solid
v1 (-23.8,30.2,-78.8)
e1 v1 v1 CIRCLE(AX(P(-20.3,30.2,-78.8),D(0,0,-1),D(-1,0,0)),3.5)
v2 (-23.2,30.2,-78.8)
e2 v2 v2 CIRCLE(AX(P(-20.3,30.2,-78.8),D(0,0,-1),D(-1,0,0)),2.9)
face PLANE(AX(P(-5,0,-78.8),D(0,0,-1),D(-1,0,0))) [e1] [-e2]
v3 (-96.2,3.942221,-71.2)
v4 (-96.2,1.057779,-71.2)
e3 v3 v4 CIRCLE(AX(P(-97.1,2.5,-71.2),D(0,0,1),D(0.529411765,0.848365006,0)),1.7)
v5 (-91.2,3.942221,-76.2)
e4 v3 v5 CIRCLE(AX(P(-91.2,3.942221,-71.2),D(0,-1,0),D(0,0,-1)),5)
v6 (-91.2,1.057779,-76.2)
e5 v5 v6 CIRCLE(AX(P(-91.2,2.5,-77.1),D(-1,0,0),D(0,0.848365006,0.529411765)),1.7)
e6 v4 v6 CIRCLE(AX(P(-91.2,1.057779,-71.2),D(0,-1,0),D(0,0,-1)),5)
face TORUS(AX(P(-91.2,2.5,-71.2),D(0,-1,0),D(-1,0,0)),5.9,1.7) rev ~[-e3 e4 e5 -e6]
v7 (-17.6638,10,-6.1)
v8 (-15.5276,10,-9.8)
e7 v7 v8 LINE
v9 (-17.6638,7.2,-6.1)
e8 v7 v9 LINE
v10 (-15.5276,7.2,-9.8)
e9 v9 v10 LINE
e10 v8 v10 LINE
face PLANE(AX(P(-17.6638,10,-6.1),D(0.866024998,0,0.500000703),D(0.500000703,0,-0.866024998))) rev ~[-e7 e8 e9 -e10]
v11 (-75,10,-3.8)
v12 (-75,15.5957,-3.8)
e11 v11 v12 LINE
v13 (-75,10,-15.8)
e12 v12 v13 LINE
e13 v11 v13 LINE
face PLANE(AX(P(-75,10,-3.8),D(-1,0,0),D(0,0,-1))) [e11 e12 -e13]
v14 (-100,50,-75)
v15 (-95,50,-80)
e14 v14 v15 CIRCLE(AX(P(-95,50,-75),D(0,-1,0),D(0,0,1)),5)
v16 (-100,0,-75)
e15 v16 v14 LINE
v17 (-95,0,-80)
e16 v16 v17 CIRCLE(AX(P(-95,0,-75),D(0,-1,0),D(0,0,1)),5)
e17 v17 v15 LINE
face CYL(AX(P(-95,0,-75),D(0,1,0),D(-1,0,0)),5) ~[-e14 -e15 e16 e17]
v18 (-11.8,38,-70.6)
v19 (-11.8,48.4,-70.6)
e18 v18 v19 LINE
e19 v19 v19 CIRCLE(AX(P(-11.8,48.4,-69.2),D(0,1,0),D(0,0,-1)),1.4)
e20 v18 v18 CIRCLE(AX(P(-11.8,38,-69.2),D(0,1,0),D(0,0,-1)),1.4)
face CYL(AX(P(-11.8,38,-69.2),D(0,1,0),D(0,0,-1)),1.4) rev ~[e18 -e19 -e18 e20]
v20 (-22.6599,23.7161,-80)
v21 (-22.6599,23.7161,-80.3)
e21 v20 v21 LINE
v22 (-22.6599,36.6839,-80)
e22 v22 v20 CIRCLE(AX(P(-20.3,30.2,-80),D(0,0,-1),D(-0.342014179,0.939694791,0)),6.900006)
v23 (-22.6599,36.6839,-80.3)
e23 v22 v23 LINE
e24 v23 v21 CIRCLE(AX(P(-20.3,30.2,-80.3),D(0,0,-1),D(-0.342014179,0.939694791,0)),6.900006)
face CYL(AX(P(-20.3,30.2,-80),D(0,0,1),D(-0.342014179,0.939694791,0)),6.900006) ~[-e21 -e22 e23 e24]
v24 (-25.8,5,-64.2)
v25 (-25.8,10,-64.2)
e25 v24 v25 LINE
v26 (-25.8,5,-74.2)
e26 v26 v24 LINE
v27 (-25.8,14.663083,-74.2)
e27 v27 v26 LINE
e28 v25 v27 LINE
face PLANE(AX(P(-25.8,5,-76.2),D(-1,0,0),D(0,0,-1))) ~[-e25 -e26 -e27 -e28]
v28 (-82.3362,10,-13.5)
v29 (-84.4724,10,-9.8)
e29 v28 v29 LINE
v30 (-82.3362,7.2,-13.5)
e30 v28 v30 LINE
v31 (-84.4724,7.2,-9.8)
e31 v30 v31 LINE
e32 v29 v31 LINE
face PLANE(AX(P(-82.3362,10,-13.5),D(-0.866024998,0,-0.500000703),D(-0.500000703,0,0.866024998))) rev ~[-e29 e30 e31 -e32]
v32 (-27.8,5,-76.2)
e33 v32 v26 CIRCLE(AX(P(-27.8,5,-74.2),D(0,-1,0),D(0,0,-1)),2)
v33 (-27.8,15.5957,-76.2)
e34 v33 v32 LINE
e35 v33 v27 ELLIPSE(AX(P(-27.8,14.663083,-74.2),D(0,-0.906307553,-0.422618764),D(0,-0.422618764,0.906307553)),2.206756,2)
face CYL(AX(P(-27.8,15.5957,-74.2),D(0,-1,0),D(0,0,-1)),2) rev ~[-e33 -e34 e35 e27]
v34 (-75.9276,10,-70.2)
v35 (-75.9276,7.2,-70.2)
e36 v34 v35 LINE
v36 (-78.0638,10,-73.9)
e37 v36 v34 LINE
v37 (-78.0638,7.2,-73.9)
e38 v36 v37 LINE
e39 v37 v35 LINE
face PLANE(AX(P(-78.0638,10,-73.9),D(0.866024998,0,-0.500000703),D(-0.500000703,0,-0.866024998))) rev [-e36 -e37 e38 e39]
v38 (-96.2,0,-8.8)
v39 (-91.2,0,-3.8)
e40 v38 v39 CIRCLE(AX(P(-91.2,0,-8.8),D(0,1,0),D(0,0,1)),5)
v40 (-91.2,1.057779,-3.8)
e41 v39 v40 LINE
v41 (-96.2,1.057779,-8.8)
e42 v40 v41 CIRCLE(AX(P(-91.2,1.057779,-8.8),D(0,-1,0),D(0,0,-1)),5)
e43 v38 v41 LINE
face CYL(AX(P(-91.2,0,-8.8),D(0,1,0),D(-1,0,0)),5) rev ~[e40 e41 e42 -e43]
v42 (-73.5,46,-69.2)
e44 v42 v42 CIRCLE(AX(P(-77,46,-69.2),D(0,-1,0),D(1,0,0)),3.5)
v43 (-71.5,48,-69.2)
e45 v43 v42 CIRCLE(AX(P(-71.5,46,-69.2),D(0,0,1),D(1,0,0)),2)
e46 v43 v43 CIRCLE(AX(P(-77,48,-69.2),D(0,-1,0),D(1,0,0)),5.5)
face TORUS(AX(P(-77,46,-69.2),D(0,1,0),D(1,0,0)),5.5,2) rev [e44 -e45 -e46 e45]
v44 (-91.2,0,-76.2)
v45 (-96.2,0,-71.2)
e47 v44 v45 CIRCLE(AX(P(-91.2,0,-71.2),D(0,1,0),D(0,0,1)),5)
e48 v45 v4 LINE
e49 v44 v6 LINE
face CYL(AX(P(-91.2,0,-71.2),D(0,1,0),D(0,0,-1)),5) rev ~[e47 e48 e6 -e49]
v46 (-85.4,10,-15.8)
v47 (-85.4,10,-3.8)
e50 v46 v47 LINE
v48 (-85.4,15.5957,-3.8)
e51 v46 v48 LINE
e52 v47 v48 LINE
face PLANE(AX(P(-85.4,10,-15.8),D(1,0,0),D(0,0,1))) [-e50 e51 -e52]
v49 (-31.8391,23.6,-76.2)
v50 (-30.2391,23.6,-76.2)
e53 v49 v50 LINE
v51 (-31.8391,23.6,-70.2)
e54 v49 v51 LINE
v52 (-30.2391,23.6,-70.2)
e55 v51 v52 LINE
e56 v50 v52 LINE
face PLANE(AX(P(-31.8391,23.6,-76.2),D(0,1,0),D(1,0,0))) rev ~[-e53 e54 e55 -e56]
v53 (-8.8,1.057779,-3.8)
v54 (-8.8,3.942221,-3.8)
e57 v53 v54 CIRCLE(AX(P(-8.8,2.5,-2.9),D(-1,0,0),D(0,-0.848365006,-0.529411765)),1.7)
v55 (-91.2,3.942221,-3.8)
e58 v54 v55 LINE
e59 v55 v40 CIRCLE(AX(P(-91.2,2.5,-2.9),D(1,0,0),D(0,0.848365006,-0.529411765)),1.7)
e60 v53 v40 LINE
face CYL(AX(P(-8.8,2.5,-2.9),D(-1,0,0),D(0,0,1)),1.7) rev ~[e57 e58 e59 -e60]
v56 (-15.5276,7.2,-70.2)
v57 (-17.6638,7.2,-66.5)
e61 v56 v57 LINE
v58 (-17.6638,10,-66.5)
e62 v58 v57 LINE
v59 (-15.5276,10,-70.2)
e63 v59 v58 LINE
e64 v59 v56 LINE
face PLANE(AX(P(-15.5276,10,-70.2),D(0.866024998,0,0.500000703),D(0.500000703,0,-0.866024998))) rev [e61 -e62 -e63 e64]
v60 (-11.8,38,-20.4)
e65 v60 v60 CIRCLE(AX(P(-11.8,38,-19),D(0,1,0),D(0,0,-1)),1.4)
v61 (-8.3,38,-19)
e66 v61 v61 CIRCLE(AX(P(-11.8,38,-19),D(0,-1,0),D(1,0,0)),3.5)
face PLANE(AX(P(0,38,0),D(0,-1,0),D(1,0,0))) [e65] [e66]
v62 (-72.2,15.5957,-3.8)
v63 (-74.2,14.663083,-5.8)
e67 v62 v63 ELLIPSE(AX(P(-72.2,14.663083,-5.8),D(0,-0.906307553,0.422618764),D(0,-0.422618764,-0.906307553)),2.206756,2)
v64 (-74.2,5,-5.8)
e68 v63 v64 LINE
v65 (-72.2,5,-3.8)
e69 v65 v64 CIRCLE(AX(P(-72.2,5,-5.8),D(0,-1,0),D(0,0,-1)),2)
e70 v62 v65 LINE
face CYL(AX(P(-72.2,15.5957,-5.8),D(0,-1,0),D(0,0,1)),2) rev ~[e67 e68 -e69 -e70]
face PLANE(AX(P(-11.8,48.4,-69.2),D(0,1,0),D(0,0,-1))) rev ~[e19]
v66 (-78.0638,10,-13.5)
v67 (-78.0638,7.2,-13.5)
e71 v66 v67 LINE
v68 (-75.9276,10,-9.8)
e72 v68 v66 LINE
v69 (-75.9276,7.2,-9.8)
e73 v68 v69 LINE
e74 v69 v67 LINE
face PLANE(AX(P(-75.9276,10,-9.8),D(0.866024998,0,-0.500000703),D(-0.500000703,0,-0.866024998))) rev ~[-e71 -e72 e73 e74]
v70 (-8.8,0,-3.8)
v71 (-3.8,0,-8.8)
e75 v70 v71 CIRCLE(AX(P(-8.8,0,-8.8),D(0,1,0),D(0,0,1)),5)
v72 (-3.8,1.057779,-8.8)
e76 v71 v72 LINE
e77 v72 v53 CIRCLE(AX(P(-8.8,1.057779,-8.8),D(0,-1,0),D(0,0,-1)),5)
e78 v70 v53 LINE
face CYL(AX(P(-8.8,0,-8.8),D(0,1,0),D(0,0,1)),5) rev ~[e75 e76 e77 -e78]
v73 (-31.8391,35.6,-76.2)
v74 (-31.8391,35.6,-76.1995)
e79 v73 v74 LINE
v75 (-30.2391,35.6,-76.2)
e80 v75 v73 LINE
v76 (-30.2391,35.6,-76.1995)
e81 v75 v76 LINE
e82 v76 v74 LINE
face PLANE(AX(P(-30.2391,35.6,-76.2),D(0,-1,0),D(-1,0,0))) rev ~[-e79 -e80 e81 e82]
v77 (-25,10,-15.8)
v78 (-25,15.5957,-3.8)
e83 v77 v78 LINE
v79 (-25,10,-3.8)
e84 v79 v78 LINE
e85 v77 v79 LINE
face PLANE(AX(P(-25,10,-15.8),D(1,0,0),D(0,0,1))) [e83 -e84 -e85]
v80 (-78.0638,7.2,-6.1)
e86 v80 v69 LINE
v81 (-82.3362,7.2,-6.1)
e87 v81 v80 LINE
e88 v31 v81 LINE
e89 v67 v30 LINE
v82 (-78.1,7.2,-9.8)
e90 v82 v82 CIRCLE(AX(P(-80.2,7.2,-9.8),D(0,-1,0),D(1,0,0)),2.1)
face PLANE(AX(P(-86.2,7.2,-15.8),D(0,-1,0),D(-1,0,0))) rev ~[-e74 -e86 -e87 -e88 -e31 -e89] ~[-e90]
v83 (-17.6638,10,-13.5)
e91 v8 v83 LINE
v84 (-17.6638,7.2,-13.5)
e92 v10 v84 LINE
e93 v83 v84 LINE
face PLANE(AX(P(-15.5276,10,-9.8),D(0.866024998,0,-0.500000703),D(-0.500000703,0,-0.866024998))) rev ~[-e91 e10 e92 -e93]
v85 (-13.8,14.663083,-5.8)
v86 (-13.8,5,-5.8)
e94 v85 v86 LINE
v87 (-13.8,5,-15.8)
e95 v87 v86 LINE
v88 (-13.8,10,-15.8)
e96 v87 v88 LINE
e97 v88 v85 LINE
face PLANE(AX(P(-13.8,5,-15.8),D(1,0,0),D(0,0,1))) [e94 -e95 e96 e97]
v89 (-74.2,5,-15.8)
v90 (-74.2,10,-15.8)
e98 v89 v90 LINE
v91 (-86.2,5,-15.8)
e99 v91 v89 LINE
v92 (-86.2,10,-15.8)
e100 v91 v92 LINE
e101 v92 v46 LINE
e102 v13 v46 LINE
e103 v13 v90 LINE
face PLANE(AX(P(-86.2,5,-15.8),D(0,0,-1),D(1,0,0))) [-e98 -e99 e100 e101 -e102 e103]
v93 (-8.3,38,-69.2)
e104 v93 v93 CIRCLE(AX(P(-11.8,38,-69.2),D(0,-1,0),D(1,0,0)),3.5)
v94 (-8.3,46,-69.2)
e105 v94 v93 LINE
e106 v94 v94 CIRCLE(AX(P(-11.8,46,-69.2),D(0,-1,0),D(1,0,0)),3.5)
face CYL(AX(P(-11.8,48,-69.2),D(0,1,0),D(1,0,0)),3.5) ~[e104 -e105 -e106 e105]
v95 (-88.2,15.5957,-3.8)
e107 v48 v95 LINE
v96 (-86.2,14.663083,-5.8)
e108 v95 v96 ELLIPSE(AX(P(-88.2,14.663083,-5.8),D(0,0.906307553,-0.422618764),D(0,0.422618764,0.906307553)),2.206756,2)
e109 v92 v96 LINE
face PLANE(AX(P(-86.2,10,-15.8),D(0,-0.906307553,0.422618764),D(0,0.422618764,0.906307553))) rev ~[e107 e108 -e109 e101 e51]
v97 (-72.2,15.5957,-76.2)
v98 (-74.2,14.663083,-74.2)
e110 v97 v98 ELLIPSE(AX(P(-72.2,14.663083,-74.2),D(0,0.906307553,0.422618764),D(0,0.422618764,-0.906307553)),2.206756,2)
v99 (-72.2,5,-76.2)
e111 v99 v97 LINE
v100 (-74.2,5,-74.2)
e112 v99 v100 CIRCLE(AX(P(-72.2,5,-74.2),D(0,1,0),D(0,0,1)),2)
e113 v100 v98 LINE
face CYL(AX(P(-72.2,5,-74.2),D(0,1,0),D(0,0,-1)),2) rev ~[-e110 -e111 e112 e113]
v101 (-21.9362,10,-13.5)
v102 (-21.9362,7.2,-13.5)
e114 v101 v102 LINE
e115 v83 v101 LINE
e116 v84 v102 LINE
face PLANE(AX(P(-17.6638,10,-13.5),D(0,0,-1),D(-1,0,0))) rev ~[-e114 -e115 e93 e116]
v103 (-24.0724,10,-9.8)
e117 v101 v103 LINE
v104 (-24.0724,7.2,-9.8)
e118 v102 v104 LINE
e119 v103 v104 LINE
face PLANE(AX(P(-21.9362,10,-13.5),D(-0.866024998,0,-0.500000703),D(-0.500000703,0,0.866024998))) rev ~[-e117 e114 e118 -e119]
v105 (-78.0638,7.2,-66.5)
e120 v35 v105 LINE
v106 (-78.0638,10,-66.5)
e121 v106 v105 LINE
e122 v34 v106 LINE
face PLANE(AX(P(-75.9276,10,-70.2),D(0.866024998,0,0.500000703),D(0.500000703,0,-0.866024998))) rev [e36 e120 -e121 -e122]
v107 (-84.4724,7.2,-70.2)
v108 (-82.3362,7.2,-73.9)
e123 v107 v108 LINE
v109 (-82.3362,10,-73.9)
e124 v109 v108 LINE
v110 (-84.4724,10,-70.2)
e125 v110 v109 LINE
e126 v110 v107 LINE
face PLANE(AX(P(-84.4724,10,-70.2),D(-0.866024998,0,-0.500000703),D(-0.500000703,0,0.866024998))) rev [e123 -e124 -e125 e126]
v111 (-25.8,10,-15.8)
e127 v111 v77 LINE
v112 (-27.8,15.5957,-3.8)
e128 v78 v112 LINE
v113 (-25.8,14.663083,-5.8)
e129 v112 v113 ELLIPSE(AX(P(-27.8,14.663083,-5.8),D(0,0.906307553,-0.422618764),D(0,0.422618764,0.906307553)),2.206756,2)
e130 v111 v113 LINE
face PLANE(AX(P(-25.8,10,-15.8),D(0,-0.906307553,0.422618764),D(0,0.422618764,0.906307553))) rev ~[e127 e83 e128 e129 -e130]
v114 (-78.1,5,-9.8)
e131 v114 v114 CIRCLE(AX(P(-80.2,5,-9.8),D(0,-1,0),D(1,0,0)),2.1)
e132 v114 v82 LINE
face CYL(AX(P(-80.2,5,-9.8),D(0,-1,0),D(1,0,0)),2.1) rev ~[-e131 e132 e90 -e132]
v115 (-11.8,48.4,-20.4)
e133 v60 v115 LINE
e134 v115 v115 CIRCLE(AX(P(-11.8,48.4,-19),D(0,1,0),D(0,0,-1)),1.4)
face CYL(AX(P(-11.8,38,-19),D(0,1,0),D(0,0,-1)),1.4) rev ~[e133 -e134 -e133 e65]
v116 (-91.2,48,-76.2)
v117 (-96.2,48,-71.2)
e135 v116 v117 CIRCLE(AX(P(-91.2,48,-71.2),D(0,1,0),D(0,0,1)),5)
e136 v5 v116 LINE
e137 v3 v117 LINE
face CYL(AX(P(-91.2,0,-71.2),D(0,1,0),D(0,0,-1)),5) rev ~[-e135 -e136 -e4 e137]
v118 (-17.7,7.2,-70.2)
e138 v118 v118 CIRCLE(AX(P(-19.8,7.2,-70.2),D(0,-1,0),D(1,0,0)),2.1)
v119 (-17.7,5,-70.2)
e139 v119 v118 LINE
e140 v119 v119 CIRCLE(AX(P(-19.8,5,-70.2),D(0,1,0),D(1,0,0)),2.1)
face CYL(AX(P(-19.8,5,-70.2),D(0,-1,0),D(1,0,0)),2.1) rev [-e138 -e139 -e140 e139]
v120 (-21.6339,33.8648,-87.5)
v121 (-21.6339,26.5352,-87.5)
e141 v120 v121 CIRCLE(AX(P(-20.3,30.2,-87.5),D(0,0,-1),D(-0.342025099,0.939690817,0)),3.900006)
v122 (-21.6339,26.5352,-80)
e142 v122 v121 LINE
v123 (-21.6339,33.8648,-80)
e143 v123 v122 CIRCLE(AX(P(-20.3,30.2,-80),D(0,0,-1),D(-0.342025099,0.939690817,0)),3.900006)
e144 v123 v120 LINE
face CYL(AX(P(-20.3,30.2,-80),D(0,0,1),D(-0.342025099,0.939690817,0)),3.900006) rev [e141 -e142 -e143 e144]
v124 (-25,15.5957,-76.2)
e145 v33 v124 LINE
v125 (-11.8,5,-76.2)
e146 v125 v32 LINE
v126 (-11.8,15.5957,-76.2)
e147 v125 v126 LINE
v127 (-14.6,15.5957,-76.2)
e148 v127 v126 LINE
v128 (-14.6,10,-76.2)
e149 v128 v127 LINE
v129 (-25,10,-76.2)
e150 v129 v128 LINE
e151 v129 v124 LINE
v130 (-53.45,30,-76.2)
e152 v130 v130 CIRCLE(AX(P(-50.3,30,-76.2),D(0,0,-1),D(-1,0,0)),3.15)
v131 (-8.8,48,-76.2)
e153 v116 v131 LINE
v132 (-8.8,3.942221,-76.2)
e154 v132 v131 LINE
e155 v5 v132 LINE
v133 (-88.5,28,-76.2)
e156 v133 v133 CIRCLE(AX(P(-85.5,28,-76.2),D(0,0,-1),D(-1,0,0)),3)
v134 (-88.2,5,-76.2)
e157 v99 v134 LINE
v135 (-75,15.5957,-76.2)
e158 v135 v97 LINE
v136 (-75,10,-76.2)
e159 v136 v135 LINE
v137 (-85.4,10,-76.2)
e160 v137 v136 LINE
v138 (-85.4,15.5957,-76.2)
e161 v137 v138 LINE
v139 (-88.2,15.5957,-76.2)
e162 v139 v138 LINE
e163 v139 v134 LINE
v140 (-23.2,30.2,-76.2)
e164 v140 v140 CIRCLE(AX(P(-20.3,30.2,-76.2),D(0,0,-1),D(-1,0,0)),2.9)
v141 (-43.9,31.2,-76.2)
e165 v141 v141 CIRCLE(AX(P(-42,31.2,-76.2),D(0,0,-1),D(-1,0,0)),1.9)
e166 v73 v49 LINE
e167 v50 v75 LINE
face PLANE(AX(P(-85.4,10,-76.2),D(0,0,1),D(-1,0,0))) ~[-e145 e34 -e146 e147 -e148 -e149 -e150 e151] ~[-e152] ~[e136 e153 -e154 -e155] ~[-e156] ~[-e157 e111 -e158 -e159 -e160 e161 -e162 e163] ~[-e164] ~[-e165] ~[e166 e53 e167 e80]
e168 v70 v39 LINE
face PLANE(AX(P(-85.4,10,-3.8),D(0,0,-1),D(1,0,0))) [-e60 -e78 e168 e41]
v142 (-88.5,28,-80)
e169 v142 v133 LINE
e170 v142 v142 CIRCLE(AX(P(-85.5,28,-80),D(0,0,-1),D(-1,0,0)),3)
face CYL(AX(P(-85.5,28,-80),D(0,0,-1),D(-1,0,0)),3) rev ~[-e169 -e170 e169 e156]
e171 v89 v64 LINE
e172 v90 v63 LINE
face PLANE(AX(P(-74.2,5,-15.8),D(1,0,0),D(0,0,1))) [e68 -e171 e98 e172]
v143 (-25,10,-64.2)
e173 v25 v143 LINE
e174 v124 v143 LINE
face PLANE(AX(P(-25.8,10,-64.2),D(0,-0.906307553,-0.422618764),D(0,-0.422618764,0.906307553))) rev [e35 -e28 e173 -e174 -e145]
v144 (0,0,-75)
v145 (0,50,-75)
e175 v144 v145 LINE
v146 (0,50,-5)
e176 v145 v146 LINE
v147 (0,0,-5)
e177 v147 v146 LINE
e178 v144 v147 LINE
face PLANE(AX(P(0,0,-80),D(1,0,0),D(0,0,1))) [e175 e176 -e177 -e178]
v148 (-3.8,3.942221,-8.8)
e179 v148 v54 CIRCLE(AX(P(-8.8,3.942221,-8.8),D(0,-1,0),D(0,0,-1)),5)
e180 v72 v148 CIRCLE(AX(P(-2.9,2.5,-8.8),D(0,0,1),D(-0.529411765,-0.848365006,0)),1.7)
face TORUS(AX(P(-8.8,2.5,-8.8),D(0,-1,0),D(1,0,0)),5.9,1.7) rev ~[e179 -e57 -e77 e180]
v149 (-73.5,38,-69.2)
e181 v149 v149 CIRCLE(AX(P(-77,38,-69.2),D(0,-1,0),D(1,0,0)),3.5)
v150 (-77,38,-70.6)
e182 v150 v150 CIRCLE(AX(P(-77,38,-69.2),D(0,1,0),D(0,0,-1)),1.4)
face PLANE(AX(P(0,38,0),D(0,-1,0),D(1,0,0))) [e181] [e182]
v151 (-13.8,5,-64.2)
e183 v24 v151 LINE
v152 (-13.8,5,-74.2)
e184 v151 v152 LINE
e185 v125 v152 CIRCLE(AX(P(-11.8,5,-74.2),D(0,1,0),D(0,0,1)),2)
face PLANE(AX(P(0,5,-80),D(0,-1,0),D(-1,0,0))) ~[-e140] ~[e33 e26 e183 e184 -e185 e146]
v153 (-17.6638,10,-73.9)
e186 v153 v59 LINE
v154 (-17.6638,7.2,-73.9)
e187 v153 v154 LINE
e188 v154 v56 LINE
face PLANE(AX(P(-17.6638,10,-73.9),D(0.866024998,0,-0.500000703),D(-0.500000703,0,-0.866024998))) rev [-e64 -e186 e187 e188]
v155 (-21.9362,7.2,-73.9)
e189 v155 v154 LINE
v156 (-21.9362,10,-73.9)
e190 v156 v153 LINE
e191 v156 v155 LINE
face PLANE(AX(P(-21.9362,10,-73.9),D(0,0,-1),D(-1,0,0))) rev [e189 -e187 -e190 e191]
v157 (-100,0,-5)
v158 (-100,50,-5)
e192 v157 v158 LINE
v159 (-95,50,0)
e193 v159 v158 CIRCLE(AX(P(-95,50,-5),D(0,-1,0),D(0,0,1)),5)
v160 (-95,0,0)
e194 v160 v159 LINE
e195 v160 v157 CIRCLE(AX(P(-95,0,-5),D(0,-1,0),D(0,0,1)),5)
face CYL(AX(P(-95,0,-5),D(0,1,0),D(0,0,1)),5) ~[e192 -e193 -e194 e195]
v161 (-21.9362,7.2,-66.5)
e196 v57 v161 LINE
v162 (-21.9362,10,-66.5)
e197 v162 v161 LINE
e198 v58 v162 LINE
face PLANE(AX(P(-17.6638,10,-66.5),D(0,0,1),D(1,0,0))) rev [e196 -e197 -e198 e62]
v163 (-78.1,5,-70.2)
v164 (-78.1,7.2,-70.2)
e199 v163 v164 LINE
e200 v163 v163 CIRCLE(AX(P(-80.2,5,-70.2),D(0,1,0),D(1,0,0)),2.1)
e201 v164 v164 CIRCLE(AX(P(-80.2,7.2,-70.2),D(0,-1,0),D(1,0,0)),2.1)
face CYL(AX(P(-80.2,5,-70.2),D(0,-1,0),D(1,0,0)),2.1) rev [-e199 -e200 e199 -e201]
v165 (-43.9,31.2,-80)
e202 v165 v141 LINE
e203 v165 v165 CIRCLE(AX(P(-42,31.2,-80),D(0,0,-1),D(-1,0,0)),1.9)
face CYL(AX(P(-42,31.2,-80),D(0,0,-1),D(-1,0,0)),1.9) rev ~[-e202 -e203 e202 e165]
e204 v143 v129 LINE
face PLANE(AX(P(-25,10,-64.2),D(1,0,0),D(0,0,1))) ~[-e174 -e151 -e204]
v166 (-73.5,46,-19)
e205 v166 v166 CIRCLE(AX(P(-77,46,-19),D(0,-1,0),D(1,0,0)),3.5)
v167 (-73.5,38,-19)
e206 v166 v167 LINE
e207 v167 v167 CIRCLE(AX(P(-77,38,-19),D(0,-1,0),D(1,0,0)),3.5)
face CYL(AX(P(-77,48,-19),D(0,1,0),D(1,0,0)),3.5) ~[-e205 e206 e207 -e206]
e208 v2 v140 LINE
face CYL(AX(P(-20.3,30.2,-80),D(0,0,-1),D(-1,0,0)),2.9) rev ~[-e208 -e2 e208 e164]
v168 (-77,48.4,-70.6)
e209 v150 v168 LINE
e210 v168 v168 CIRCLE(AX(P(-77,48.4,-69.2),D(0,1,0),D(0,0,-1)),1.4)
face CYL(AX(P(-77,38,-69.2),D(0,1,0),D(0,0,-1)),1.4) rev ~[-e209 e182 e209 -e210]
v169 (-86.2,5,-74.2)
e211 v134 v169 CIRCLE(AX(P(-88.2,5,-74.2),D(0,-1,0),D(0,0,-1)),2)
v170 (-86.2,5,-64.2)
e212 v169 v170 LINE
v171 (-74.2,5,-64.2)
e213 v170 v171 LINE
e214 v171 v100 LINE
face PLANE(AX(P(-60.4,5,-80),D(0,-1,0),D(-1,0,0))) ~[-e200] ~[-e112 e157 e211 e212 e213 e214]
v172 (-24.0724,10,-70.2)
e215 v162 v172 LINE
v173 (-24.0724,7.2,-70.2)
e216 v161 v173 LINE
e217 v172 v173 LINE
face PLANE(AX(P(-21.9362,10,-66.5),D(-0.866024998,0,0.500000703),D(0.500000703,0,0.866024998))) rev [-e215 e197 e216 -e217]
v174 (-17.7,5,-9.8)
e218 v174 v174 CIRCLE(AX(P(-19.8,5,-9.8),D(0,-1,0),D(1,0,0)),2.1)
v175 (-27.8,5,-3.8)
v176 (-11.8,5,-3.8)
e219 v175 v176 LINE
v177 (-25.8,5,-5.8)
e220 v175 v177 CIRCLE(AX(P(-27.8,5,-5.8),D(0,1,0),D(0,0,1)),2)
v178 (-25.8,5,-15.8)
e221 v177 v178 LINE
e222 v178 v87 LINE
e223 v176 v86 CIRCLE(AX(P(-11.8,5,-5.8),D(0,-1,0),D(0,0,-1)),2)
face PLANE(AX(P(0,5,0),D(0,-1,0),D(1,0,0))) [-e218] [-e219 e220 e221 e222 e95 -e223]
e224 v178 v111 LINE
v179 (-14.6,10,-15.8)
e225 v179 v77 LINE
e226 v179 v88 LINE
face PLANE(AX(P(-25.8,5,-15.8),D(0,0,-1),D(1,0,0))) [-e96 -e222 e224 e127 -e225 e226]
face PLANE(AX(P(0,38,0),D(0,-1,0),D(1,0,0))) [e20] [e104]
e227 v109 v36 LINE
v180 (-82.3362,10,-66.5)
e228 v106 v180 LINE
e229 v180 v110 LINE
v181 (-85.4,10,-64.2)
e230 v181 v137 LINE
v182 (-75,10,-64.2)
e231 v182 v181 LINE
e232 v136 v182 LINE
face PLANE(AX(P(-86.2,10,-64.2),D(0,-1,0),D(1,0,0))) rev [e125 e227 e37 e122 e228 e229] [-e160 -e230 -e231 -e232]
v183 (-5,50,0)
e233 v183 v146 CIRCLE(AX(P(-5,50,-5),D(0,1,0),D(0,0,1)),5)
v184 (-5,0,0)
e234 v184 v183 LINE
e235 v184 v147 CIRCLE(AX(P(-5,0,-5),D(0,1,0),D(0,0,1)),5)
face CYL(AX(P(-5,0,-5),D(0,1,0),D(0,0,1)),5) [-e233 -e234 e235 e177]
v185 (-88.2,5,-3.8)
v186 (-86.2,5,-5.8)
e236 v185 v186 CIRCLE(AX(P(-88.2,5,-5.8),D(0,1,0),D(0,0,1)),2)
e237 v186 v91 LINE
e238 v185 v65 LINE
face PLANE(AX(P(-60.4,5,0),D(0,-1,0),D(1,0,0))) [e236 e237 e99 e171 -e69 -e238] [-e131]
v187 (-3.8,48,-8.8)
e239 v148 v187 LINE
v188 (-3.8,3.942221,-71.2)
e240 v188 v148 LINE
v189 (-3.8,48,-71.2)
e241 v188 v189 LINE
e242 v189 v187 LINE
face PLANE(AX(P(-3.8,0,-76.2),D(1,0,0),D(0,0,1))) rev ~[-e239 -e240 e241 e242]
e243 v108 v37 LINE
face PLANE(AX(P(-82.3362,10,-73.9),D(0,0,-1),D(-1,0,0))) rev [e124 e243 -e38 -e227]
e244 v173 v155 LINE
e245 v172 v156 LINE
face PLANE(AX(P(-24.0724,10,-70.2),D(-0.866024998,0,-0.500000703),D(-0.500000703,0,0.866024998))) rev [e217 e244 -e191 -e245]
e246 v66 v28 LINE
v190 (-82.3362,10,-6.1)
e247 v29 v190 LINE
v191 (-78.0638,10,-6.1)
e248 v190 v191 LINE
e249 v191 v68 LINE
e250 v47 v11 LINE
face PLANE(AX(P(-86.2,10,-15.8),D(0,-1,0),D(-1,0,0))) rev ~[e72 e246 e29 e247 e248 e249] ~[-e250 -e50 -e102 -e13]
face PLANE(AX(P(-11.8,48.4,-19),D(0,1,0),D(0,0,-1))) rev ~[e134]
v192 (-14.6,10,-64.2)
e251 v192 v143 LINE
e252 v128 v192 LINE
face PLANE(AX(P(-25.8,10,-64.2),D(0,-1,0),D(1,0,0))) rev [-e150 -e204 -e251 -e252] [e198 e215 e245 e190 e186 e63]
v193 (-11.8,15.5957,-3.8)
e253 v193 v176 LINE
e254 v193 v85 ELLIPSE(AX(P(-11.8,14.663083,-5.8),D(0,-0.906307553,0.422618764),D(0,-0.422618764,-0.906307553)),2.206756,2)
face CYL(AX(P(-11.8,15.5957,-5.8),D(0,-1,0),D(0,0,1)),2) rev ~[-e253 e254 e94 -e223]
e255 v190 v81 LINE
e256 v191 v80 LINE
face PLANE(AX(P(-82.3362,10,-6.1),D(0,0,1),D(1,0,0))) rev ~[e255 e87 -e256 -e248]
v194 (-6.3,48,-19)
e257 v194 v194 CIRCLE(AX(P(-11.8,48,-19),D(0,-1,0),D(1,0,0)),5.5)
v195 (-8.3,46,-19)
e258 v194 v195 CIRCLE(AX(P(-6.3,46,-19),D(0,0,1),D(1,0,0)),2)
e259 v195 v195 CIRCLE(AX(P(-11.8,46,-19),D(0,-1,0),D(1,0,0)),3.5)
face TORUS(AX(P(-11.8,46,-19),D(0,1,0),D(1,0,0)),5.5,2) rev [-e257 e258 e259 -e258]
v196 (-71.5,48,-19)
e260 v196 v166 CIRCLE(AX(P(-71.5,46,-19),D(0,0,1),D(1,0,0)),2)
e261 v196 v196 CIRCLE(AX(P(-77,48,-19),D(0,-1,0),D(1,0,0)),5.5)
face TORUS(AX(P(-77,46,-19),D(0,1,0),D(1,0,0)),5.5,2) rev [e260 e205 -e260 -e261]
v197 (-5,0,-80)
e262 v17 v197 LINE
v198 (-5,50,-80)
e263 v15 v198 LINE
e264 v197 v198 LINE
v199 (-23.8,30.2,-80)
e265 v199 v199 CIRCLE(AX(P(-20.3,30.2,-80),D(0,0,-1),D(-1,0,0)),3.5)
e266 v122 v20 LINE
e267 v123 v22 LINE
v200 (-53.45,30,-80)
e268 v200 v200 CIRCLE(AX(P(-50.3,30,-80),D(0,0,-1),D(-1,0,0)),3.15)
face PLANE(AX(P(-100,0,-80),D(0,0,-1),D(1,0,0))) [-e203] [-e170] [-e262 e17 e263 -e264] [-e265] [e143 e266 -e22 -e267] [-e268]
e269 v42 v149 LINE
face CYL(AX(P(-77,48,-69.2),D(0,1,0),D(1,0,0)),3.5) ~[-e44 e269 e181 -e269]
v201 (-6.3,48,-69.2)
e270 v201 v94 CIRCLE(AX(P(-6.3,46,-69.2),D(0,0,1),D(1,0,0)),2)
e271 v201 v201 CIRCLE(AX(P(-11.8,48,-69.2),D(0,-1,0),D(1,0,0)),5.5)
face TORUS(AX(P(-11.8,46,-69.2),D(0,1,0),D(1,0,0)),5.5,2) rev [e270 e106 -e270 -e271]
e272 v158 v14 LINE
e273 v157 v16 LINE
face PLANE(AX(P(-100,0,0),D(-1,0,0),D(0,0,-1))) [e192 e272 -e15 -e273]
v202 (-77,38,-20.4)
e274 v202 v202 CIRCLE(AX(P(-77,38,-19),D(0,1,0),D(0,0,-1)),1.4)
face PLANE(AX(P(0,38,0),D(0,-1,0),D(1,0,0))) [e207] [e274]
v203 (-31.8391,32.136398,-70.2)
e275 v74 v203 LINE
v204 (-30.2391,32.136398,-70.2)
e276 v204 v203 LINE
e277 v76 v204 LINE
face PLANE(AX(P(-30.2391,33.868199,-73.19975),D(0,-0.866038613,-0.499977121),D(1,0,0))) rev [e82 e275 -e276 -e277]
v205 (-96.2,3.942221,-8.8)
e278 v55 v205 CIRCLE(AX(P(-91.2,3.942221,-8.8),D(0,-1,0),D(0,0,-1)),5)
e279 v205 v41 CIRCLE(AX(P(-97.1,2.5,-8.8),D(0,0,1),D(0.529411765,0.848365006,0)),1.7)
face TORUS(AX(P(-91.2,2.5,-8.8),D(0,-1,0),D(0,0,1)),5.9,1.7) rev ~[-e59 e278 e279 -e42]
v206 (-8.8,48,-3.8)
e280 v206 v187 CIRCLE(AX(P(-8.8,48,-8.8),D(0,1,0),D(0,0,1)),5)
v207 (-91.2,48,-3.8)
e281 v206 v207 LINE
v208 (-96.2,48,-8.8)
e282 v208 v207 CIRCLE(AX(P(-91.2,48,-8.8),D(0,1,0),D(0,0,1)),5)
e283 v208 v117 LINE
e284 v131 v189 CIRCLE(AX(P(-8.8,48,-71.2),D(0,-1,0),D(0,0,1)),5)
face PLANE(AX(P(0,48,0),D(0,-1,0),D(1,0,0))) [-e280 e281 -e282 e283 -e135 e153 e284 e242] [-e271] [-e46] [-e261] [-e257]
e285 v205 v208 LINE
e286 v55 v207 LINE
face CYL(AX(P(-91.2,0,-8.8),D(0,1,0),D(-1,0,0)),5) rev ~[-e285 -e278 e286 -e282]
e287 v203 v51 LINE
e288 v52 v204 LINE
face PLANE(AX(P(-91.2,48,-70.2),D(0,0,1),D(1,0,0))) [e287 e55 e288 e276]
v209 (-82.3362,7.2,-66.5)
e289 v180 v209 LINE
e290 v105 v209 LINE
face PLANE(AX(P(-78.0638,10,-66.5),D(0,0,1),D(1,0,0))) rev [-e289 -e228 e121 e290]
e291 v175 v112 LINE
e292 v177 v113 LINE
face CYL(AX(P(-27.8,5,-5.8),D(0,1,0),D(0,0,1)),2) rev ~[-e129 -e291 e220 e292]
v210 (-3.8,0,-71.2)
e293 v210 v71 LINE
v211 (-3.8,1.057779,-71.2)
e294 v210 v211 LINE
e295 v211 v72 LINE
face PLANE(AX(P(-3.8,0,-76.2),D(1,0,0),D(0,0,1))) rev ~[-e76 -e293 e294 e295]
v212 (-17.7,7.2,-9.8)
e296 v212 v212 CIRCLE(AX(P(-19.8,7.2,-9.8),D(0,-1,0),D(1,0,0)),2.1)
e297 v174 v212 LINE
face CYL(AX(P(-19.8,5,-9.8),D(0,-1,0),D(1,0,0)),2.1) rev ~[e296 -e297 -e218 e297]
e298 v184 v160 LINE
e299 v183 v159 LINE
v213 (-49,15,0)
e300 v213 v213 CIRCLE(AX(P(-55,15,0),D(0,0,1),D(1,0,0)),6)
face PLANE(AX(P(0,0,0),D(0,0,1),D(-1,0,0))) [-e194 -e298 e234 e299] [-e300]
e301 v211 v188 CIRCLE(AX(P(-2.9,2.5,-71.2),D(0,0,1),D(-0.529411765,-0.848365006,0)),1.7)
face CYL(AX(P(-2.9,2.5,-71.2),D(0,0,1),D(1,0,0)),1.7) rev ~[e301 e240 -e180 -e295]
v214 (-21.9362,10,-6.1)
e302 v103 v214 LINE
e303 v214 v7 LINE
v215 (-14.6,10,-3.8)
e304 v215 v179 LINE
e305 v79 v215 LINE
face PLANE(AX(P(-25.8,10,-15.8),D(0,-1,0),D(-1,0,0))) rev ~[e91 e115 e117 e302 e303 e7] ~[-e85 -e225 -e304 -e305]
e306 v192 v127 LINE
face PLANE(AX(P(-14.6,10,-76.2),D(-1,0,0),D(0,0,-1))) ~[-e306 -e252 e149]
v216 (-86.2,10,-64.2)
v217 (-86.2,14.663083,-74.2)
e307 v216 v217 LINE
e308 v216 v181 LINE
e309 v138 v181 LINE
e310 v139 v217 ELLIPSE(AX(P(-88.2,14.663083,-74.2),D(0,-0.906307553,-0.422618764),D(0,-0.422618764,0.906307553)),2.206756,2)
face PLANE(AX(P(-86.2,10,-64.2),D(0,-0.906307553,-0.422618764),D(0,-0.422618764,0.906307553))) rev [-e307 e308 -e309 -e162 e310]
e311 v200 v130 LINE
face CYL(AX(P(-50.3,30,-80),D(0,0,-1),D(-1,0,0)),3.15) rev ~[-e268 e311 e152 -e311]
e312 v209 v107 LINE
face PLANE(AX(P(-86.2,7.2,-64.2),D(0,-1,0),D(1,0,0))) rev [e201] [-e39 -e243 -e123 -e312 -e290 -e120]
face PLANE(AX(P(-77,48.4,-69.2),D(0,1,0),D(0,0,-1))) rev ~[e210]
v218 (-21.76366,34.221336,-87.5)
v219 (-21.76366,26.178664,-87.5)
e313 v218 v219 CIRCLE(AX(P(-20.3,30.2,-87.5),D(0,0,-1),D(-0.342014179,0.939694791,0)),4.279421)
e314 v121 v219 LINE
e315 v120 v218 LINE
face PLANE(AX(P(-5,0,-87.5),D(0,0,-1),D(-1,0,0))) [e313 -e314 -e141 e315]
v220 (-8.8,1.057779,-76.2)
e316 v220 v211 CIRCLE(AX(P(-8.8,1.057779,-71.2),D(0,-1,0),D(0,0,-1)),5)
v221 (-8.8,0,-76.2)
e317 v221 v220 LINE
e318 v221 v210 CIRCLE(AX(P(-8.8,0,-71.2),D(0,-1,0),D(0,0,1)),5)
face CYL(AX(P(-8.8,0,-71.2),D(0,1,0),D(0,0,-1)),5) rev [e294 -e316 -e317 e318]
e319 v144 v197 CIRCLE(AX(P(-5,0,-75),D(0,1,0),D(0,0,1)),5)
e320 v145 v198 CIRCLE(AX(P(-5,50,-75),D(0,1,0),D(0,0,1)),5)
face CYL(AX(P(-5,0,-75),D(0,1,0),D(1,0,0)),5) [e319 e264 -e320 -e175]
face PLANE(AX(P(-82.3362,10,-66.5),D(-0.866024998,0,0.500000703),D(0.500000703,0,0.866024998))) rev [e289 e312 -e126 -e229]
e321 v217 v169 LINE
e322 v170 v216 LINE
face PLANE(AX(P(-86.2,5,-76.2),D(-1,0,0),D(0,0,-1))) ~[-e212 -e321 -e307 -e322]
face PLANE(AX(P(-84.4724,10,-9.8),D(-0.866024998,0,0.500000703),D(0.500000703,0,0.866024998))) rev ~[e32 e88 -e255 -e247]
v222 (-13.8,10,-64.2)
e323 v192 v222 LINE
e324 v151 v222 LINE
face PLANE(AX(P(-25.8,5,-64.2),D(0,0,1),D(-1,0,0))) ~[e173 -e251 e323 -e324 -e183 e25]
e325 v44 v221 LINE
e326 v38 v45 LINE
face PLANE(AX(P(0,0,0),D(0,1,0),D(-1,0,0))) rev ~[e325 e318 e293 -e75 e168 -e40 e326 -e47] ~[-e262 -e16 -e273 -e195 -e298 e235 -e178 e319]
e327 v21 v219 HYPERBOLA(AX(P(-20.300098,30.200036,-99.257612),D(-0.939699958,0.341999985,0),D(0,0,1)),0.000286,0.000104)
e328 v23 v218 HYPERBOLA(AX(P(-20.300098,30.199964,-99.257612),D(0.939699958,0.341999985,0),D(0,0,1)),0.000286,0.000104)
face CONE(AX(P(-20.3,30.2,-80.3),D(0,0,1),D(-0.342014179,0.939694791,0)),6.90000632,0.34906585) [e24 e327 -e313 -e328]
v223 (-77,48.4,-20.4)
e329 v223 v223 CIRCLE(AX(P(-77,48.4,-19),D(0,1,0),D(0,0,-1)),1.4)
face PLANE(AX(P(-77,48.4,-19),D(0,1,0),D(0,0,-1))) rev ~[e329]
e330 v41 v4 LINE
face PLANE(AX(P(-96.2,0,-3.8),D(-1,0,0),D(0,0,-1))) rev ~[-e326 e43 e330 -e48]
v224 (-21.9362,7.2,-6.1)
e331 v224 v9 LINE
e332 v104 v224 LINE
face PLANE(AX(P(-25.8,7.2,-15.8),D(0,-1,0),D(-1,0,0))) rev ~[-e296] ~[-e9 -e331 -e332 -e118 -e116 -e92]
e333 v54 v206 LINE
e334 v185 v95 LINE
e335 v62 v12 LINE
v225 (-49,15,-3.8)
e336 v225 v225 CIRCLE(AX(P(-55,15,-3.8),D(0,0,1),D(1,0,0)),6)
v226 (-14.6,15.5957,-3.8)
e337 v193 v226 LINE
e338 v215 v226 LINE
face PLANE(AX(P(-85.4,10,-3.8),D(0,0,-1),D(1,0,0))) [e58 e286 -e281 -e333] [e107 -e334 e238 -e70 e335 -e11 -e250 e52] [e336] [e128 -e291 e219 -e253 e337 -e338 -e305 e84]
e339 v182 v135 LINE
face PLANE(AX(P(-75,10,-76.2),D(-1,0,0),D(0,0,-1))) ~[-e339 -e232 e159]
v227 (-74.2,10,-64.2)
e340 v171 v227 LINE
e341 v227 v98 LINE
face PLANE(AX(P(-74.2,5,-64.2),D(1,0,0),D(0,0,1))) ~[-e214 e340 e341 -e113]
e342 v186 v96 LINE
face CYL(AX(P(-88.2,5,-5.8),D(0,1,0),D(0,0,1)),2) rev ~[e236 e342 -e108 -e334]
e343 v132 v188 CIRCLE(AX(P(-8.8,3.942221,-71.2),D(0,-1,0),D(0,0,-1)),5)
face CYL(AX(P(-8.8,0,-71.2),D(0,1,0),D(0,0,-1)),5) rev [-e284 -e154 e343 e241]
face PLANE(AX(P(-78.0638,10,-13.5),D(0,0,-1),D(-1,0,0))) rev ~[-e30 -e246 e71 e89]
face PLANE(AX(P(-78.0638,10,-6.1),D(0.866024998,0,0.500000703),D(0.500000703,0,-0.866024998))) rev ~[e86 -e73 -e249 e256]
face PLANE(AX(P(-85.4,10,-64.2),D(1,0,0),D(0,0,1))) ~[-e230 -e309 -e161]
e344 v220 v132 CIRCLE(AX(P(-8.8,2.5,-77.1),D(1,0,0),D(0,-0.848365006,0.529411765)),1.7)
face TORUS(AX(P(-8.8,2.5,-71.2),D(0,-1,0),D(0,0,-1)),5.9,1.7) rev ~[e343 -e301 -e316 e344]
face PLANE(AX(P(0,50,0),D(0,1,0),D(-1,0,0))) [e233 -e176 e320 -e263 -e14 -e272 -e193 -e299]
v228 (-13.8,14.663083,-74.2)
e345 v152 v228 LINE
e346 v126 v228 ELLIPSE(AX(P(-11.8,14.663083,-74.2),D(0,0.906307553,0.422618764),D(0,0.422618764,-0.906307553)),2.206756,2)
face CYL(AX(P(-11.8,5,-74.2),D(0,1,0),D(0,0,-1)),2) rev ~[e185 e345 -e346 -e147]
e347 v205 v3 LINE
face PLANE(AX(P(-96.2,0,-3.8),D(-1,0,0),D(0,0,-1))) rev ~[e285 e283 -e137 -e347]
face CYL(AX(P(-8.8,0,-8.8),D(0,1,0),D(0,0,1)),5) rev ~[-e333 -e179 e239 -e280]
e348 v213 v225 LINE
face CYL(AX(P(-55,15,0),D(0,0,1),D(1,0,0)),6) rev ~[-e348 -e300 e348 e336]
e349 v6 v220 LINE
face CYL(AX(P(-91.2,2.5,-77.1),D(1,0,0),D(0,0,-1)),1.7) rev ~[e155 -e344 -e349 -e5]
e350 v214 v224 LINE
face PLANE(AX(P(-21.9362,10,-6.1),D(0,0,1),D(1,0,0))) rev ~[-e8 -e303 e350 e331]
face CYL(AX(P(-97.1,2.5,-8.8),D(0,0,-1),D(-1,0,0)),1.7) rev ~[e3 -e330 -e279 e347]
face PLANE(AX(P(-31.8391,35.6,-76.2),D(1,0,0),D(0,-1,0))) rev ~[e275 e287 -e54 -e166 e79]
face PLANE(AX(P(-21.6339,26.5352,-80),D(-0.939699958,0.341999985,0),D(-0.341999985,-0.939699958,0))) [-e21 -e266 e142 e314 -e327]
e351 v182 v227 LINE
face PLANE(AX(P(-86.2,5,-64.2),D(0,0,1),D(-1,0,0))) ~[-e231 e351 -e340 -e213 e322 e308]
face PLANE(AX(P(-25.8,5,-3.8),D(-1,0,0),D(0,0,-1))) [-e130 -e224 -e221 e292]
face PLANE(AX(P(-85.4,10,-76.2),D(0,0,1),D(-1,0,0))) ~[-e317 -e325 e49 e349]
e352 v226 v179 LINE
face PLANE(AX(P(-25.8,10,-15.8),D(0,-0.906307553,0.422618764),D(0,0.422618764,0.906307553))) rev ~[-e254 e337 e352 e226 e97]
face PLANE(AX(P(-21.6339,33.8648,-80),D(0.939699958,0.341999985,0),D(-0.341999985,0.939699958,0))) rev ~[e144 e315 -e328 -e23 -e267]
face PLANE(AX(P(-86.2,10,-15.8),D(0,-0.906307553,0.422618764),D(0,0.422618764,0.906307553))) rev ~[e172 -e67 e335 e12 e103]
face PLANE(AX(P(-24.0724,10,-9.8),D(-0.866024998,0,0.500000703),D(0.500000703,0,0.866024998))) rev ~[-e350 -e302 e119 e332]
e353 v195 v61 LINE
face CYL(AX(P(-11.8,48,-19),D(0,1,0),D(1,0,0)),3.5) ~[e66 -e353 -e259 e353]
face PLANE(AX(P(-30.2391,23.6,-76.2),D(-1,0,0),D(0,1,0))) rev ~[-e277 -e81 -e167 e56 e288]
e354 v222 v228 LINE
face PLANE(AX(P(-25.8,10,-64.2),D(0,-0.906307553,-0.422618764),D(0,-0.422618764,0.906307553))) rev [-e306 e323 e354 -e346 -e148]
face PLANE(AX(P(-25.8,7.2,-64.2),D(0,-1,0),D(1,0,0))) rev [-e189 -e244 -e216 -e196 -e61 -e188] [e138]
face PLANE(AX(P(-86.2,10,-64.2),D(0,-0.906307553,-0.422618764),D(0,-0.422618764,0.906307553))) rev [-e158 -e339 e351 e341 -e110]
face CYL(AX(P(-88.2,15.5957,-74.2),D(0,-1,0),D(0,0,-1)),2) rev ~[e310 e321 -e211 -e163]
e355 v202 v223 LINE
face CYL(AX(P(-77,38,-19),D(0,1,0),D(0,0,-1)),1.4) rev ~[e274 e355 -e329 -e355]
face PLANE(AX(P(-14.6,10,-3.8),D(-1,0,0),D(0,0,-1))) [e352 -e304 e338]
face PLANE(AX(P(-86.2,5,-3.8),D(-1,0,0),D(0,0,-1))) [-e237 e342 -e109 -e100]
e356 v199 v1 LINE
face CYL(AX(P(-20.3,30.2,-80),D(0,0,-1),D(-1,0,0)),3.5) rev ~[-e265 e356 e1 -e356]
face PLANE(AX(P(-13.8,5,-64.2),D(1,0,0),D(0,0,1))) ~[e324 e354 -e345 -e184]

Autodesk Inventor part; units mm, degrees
sketch "Sketch1" plane through (0, 0, 0) normal (0, 1, 0) x (-1, 0, 0)
  line L0 (0, 0) -> (100, 0)
  line L1 (100, 0) -> (100, -80)
  line L2 (100, -80) -> (0, -80)
  line L3 (0, -80) -> (0, 0)
  dimension "d0" = 100
  dimension "d1" = 80
extrude "BoxProfile" add sketch "Sketch1" along normal blind 50
sketch "Sketch2" plane through (0, 0, 0) normal (0, -1, 0) x (1, 0, 0)
  line L0 (-3.8, -3.8) -> (-96.2, -3.8)
  line L1 (-96.2, -3.8) -> (-96.2, -76.2)
  line L2 (-96.2, -76.2) -> (-3.8, -76.2)
  line L3 (-3.8, -76.2) -> (-3.8, -3.8)
  line L4 (0, -80) -> (-100, -80)
  line L5 (0, 0) -> (0, -80)
  line L6 (-100, 0) -> (0, 0)
  line L7 (-100, -80) -> (-100, 0)
  dimension "d4" = 3.8
  dimension "d5" = 3.8
  dimension "d6" = 3.8
  dimension "d7" = 3.8
extrude "Walls" cut sketch "Sketch2" against normal blind 48 contours L3 L2 L1 L0
fillet "Fillet1" radius 5 8 edges at (0, 25, 0) (0, 25, -80) (-100, 25, 0) (-100, 25, -80) (-96.2, 24, -76.2) (-96.2, 24, -3.8) (-3.8, 24, -3.8) (-3.8, 24, -76.2)
ref_plane "Work Plane1" through (0, 5, 0) normal (0, -1, 0) x (1, 0, 0)
sketch "Sketch3" plane through (0, 5, 0) normal (0, -1, 0) x (1, 0, 0)
  arc A0 (-8.8, -76.2) -> (-3.8, -71.2) centre (-8.8, -71.2) ccw
  line L0 (-3.8, -8.8) -> (-3.8, -71.2)
  arc A1 (-3.8, -8.8) -> (-8.8, -3.8) centre (-8.8, -8.8) ccw
  line L1 (-91.2, -3.8) -> (-8.8, -3.8)
  arc A2 (-91.2, -3.8) -> (-96.2, -8.8) centre (-91.2, -8.8) ccw
  line L2 (-96.2, -71.2) -> (-96.2, -8.8)
  arc A3 (-96.2, -71.2) -> (-91.2, -76.2) centre (-91.2, -71.2) ccw
  line L3 (-8.8, -76.2) -> (-91.2, -76.2)
  line L4 (-13.8, -3.8) -> (-25.8, -3.8)
  line L5 (-25.8, -3.8) -> (-25.8, -15.8)
  line L6 (-25.8, -15.8) -> (-13.8, -15.8)
  line L7 (-13.8, -15.8) -> (-13.8, -3.8)
  line L8 (2.9782, -40) -> (-105.6038, -40) construction
  line L9 (-95, 0) -> (-5, 0)
  line L10 (-50, 11.1583) -> (-50, -101.8999) construction
  line L11 (0, -5) -> (0, -75)
  line L12 (-13.8, -3.8) -> (-25.8, -3.8)
  line L13 (-102.9782, -40) -> (5.6038, -40) construction
  line L14 (-13.8, -76.2) -> (-25.8, -76.2)
  line L15 (-86.2, -76.2) -> (-78.2, -76.2)
  circle A4 centre (-19.8, -9.8) radius 2.1
  point P0 (0, 0)
  point P1 (-25.8, -3.8)
  dimension "d12" = 12
  dimension "d13" = 12
  dimension "d14" = 40
  dimension "d15" = 50
  dimension "d16" = 10
  dimension "d19" = 6
  dimension "d20" = 6
  dimension "d21" = 4.2
extrude "ScrewPosts" add sketch "Sketch3" against normal blind 5 contours L7 L6 L5 L1
sketch "Sketch5" plane through (-25.8, 5, -15.8) normal (-1, 0, 0) x (0, 0, 1)
  line L0 (-60.4, 43) -> (-60.4, -5)
  line L1 (-60.4, -5) -> (-64.2, -5)
  line L2 (-64.2, -5) -> (-64.2, 45)
  line L3 (-64.2, 45) -> (15.8, 45)
  line L4 (15.8, 45) -> (15.8, -5)
  line L5 (15.8, -5) -> (12, -5)
  line L6 (12, -5) -> (12, 0)
  line L7 (12, 0) -> (0, 0)
  line L8 (0, 0) -> (0, 5)
  line L9 (0, 5) -> (12, 5)
  line L10 (12, 5) -> (12, 43)
  line L11 (12, 43) -> (-60.4, 43)
  line L12 (12, 5) -> (12, 0)
  line L13 (12, 5) -> (0, 5)
  line L14 (0, 5) -> (12, 10.5957)
  line L15 (12, 5) -> (12, 10.5957)
  line L16 (0, 5) -> (12, 5)
  point P0 (15.8, -5)
  dimension "d23" = 25
extrude "PrintSlope" add sketch "Sketch5" against normal up to surface (12 mm away) contours L10 L9 L14
ref_plane "Work Plane2" through (-25.8, 10, -15.8) normal (0, -1, 0) x (-1, 0, 0)
sketch "Sketch6" plane through (-25.8, 10, -15.8) normal (0, -1, 0) x (-1, 0, 0)
  circle A0 centre (-6, -6) radius 2.1
  arc A1 (-22, -7) -> (-17, -12) centre (-17, -7) ccw
  line L0 (-17, -12) -> (-12, -12)
  line L1 (-12, -12) -> (-12, 0)
  line L2 (-12, 0) -> (0, 0)
  line L3 (0, 0) -> (0, -12)
  line L4 (0, -12) -> (65.4, -12)
  arc A2 (65.4, -12) -> (70.4, -7) centre (65.4, -7) ccw
  line L5 (70.4, -7) -> (70.4, 55.4)
  arc A3 (70.4, 55.4) -> (65.4, 60.4) centre (65.4, 55.4) ccw
  line L6 (65.4, 60.4) -> (-17, 60.4)
  arc A4 (-17, 60.4) -> (-22, 55.4) centre (-17, 55.4) ccw
  line L7 (-22, 55.4) -> (-22, -7)
  arc A5 (-20.8, 64.2) -> (-25.8, 59.2) centre (-20.8, 59.2) ccw
  line L8 (-20.8, 64.2) -> (69.2, 64.2)
  arc A6 (74.2, 59.2) -> (69.2, 64.2) centre (69.2, 59.2) ccw
  line L9 (74.2, 59.2) -> (74.2, -10.8)
  arc A7 (69.2, -15.8) -> (74.2, -10.8) centre (69.2, -10.8) ccw
  line L10 (69.2, -15.8) -> (-20.8, -15.8)
  arc A8 (-25.8, -10.8) -> (-20.8, -15.8) centre (-20.8, -10.8) ccw
  line L11 (-25.8, -10.8) -> (-25.8, 59.2)
  line L12 (-3.8638, -9.7) -> (-8.1362, -9.7)
  line L13 (-8.1362, -9.7) -> (-10.2724, -6)
  line L14 (-10.2724, -6) -> (-8.1362, -2.3)
  line L15 (-8.1362, -2.3) -> (-3.8638, -2.3)
  line L16 (-3.8638, -2.3) -> (-1.7276, -6)
  line L17 (-1.7276, -6) -> (-3.8638, -9.7)
  point P0 (-25.8, -15.8)
  dimension "d27" = 7.4
  dimension "d29" = 7.4
  dimension "d30" = 7.4
  dimension "d32" = 3.7
  dimension "d33" = 3.7
extrude "HexNut" cut sketch "Sketch6" along normal blind 2.8 contours L12 L13 L14 L15 L16 L17
sketch "Sketch7" plane through (-25.8, 10, -15.8) normal (0, -1, 0) x (-1, 0, 0)
  line L0 (-3.8638, -9.7) -> (-1.7276, -6)
  line L1 (-1.7276, -6) -> (-3.8638, -2.3)
  line L2 (-3.8638, -2.3) -> (-8.1362, -2.3)
  line L3 (-8.1362, -2.3) -> (-10.2724, -6)
  line L4 (-10.2724, -6) -> (-8.1362, -9.7)
  line L5 (-8.1362, -9.7) -> (-3.8638, -9.7)
  arc A0 (-22, -7) -> (-17, -12) centre (-17, -7) ccw
  line L6 (-17, -12) -> (-12, -12)
  line L7 (-12, -12) -> (-12, 0)
  line L8 (-12, 0) -> (0, 0)
  line L9 (0, 0) -> (0, -12)
  line L10 (0, -12) -> (65.4, -12)
  arc A1 (65.4, -12) -> (70.4, -7) centre (65.4, -7) ccw
  line L11 (70.4, -7) -> (70.4, 55.4)
  arc A2 (70.4, 55.4) -> (65.4, 60.4) centre (65.4, 55.4) ccw
  line L12 (65.4, 60.4) -> (-17, 60.4)
  arc A3 (-17, 60.4) -> (-22, 55.4) centre (-17, 55.4) ccw
  line L13 (-22, 55.4) -> (-22, -7)
  arc A4 (-20.8, 64.2) -> (-25.8, 59.2) centre (-20.8, 59.2) ccw
  line L14 (-20.8, 64.2) -> (69.2, 64.2)
  arc A5 (74.2, 59.2) -> (69.2, 64.2) centre (69.2, 59.2) ccw
  line L15 (74.2, 59.2) -> (74.2, -10.8)
  arc A6 (69.2, -15.8) -> (74.2, -10.8) centre (69.2, -10.8) ccw
  line L16 (69.2, -15.8) -> (-20.8, -15.8)
  arc A7 (-25.8, -10.8) -> (-20.8, -15.8) centre (-20.8, -10.8) ccw
  line L17 (-25.8, -10.8) -> (-25.8, 59.2)
  line L18 (65.4, -12) -> (-17, -12)
  line L19 (-0.8, -12) -> (-11.2, -12)
  line L20 (-11.2, -12) -> (-11.2, 0)
  line L21 (-11.2, 0) -> (-0.8, 0)
  line L22 (-0.8, 0) -> (-0.8, -12)
  point P0 (-25.8, -15.8)
  point P1 (-0.8, 0)
  dimension "d36" = 0.8
  dimension "d37" = 0.8
extrude "SupportCut" cut sketch "Sketch7" against normal blind 10 contours L5 L4 L3 L2 L1 L0 | L20 L8 L22 L18
pattern_linear "Rectangular Pattern1" count 2 spacing -60.4 along (1, 0, 0) of "ScrewPosts", "PrintSlope", "HexNut", "SupportCut"
fillet "Fillet3" radius 2 4 edges at (-25.8, 10.2978, -3.8) (-13.8, 10.2978, -3.8) (-86.2, 10.2978, -3.8) (-74.2, 10.2978, -3.8)
ref_plane "Work Plane3" through (-5, 0, -40) normal (0, 0, -1) x (-1, 0, 0)
sketch "Sketch8" plane through (-5, 0, -40) normal (0, 0, -1) x (-1, 0, 0)
  line L0 (-1.2, 0) -> (-5, 0)
  line L1 (-5, 0) -> (-5, 50)
  line L2 (-5, 50) -> (95, 50)
  line L3 (95, 50) -> (95, 0)
  line L4 (95, 0) -> (91.2, 0)
  line L5 (91.2, 0) -> (91.2, 48)
  line L6 (91.2, 48) -> (-1.2, 48)
  line L7 (-1.2, 48) -> (-1.2, 0)
  circle A0 centre (92.1, 2.5) radius 1.7
  dimension "d44" = 3.4
  dimension "d45" = 2.5
  dimension "d46" = 0.9
mirror "Mirror2" about plane through (-5, 0, -40) normal (0, 0, -1) of "ScrewPosts", "PrintSlope", "HexNut", "SupportCut", "Rectangular Pattern1", "Fillet3"
sketch3d "3D Sketch2"
  line L0 (-96.2, 0, -8.8) -> (-96.2, 0, -71.2)
  arc A0 (-96.2, 0, -71.2) -> (-91.2, 0, -76.2) centre (-91.2, 0, -71.2) ccw
  line L1 (-91.2, 0, -76.2) -> (-8.8, 0, -76.2)
  arc A1 (-8.8, 0, -76.2) -> (-3.8, 0, -71.2) centre (-8.8, 0, -71.2) ccw
  line L2 (-3.8, 0, -71.2) -> (-3.8, 0, -8.8)
  arc A2 (-3.8, 0, -8.8) -> (-8.8, 0, -3.8) centre (-8.8, 0, -8.8) ccw
  line L3 (-8.8, 0, -3.8) -> (-91.2, 0, -3.8)
  arc A3 (-91.2, 0, -3.8) -> (-96.2, 0, -8.8) centre (-91.2, 0, -8.8) ccw
sweep "oring groove" cut profiles "Sketch8" path "3D Sketch2" contours A0 L5 | L5 A0
sketch "Sketch9" plane through (0, 48, 0) normal (0, -1, 0) x (1, 0, 0)
  line L0 (-91.2, -76.2) -> (-8.8, -76.2)
  arc A0 (-8.8, -76.2) -> (-3.8, -71.2) centre (-8.8, -71.2) ccw
  line L1 (-3.8, -71.2) -> (-3.8, -8.8)
  arc A1 (-3.8, -8.8) -> (-8.8, -3.8) centre (-8.8, -8.8) ccw
  line L2 (-8.8, -3.8) -> (-91.2, -3.8)
  arc A2 (-91.2, -3.8) -> (-96.2, -8.8) centre (-91.2, -8.8) ccw
  line L3 (-96.2, -8.8) -> (-96.2, -71.2)
  arc A3 (-96.2, -71.2) -> (-91.2, -76.2) centre (-91.2, -71.2) ccw
  arc A4 (-5, -80) -> (0, -75) centre (-5, -75) ccw
  line L4 (-5, -80) -> (-95, -80)
  arc A5 (-100, -75) -> (-95, -80) centre (-95, -75) ccw
  line L5 (-100, -75) -> (-100, -5)
  arc A6 (-95, 0) -> (-100, -5) centre (-95, -5) ccw
  line L6 (-95, 0) -> (-5, 0)
  arc A7 (0, -5) -> (-5, 0) centre (-5, -5) ccw
  line L7 (0, -5) -> (0, -75)
  circle A8 centre (-11.8, -69.2) radius 3.5
  circle A9 centre (-11.8, -19) radius 3.5
  circle A10 centre (-77, -69.2) radius 3.5
  circle A11 centre (-77, -19) radius 3.5
  point P0 (0, 0)
  dimension "d52" = 7
  dimension "d53" = 7
  dimension "d54" = 7
  dimension "d55" = 7
  dimension "d56" = 8
  dimension "d57" = 7
  dimension "d58" = 65.2
  dimension "d59" = 50.2
extrude "PCB posts" add sketch "Sketch9" along normal blind 10 contours A8 | A9 | A10 | A11
sketch "Sketch10" plane through (-11.8, 38, -19) normal (0, -1, 0) x (1, 0, 0)
  circle A0 centre (0, 0) radius 3.5
  circle A1 centre (0, -50.2) radius 3.5
  circle A2 centre (-65.2, 0) radius 3.5
  circle A3 centre (0, -50.2) radius 3.5
  circle A4 centre (-65.2, -50.2) radius 3.5
  circle A5 centre (0, 0) radius 3.5
  line L0 (-79.4, -57.2) -> (3, -57.2)
  arc A6 (3, -57.2) -> (8, -52.2) centre (3, -52.2) ccw
  line L1 (8, -52.2) -> (8, 10.2)
  arc A7 (8, 10.2) -> (3, 15.2) centre (3, 10.2) ccw
  line L2 (3, 15.2) -> (-79.4, 15.2)
  arc A8 (-79.4, 15.2) -> (-84.4, 10.2) centre (-79.4, 10.2) ccw
  line L3 (-84.4, 10.2) -> (-84.4, -52.2)
  arc A9 (-84.4, -52.2) -> (-79.4, -57.2) centre (-79.4, -52.2) ccw
  arc A10 (6.8, -61) -> (11.8, -56) centre (6.8, -56) ccw
  line L4 (6.8, -61) -> (-83.2, -61)
  arc A11 (-88.2, -56) -> (-83.2, -61) centre (-83.2, -56) ccw
  line L5 (-88.2, -56) -> (-88.2, 14)
  arc A12 (-83.2, 19) -> (-88.2, 14) centre (-83.2, 14) ccw
  line L6 (-83.2, 19) -> (6.8, 19)
  arc A13 (11.8, 14) -> (6.8, 19) centre (6.8, 14) ccw
  line L7 (11.8, 14) -> (11.8, -56)
  point P0 (11.8, 19)
  point P1 (-65.2, -50.2)
hole "Hole1" at (-11.8, 38, -19) at (-11.8, 38, -69.2) at (-77, 38, -69.2) at (-77, 38, -19) direction (0, 1, 0) diameter 2.8 depth 10.4
fillet "Fillet4" radius 2 4 edges at (-15.3, 48, -19) (-15.3, 48, -69.2) (-80.5, 48, -19) (-80.5, 48, -69.2)
sketch "Sketch11" plane through (-5, 0, -80) normal (0, 0, -1) x (-1, 0, 0)
  line L0 (68.5, 38) -> (75.5, 38)
  line L1 (3.3, 38) -> (10.3, 38)
  line L2 (-1.2, 48) -> (-1.2, 3.9422)
  line L3 (-1.2, 3.9422) -> (-1.2, 48)
  line L4 (91.2, 48) -> (91.2, 3.9422)
  line L5 (91.2, 3.9422) -> (91.2, 48)
  circle A0 centre (15.3, 30.2) radius 2.9
  line L6 (8.2, 38) -> (5.4, 38)
  line L7 (8.2, 38) -> (5.4, 38)
  line L8 (5.4, 48.4) -> (8.2, 48.4)
  line L9 (73.4, 38) -> (70.6, 38)
  line L10 (70.6, 48.4) -> (73.4, 48.4)
  circle A1 centre (37, 31.2) radius 1.9
  circle A2 centre (45.3, 30) radius 3.15
  circle A3 centre (80.5, 28) radius 3
  line L11 (8.2, 38) -> (5.4, 38)
  line L12 (3.3, 38) -> (10.3, 38)
  point P0 (-5, 0)
  point P1 (6.8, 38)
  point P2 (6.8, 38)
  point P3 (6.8, 38)
  point P4 (72, 38)
  point P5 (72, 38)
  dimension "d70" = 8.5
  dimension "d71" = 5.8
  dimension "d72" = 7.8
  dimension "d73" = 3.8
  dimension "d74" = 6.3
  dimension "d75" = 30.2
  dimension "d76" = 38.5
  dimension "d78" = 10
  dimension "d79" = 6
  dimension "d123" = 8
  dimension "d124" = 6.8
  dimension "d126" = 5
extrude "Laser holes" cut sketch "Sketch11" against normal blind 6.3
sketch "Sketch12" plane through (-95, 0, 0) normal (0, 0, 1) x (1, 0, 0)
  line L0 (0, 0) -> (0, 50)
  line L1 (0, 0) -> (90, 0)
  line L2 (90, 50) -> (90, 0)
  line L3 (0, 50) -> (90, 50)
  circle A0 centre (40, 15) radius 6
  point P0 (95, 0)
  dimension "d82" = 12
  dimension "d83" = 50
  dimension "d98" = 35
extrude "connector" cut sketch "Sketch12" against normal blind 6.3 contours A0
ref_plane "Work Plane4" through (0, 8, 0) normal (0, -1, 0) x (1, 0, 0)
ref_plane "Work Plane5" through (0, 25, 0) normal (0, -1, 0) x (1, 0, 0)
sketch "Sketch14" plane through (-5, 0, -80) normal (0, 0, -1) x (-1, 0, 0)
  circle A0 centre (15.3, 30.2) radius 2.9
  arc A1 (16.6339, 33.8648) -> (16.6339, 26.5352) centre (15.3, 30.2) ccw
  arc A2 (17.6599, 36.6839) -> (17.6599, 23.7161) centre (15.3, 30.2) ccw
  line L0 (15.3, 30.2) -> (6.5373, 30.2) construction
  line L1 (16.6339, 33.8648) -> (17.6599, 36.6839)
  line L2 (16.6339, 26.5352) -> (17.6599, 23.7161)
  line L3 (15.3, 30.2) -> (16.6339, 26.5352) construction
  point P0 (-5, 0)
  dimension "d112" = 1
  dimension "d113" = 3
  dimension "d133" = 110
  dimension "d134" = 110
  dimension "d135" = 110
extrude "Hood" add sketch "Sketch14" along normal blind 7.5 contours A1 L2 A2 L1
chamfer "Chamfer3" distance 7.2 angle 20 1 edges at (-13.4, 30.2, -87.5) measured on face at (-22.1343, 36.8517, -82.5)
sketch "Sketch16" plane through (-5, 0, -80) normal (0, 0, -1) x (-1, 0, 0)
  circle A0 centre (15.3, 30.2) radius 2.9
  circle A1 centre (15.3, 30.2) radius 3.5
  point P0 (-5, 0)
  dimension "d130" = 7
extrude "FilterHole" cut sketch "Sketch16" against normal blind 1.2 contours A0 | A1
sketch "Sketch17" plane through (-91.2, 48, -76.2) normal (0, 0, 1) x (1, 0, 0)
  line L0 (75.9, -10) -> (82.9, -10)
  line L1 (15.6, -10) -> (12.8, -10)
  line L2 (10.7, -10) -> (17.7, -10)
  line L3 (60.9609, -12.4) -> (59.3609, -12.4)
  line L4 (59.3609, -12.4) -> (59.3609, -24.4)
  line L5 (59.3609, -24.4) -> (60.9609, -24.4)
  line L6 (60.9609, -24.4) -> (60.9609, -12.4)
  point P0 (91.2, -48)
  point P1 (60.1609, -12.4)
  dimension "d136" = 1.6
  dimension "d137" = 12
  dimension "d138" = 2.4
extrude "InteriorBlocker" add sketch "Sketch17" along normal blind 6
chamfer "Chamfer4" distance 6 angle 30 1 edges at (-31.0391, 35.6, -70.2) measured on face at (-30.7725, 35.6, -74.2)
equation "\"d5\" = d4"
equation "\"d6\" = d4"
equation "\"d7\" = d4"
equation "\"d13\" = d12"
equation "\"d14\" = 0.5 * d1"
equation "\"d15\" = 0.5 * d0"
equation "\"d19\" = 0.5 * d12"
equation "\"d20\" = d19"
equation "\"d29\" = d27"
equation "\"d30\" = d29"
equation "\"d32\" = 0.5 * d27"
equation "\"d33\" = d32"
equation "\"d37\" = d36"
equation "\"d53\" = d52"
equation "\"d54\" = d52"
equation "\"d55\" = d52"
equation "\"d80\" = d74"
equation "\"d84\" = d74"
properties part number "Box" material "ABS Plastic"
